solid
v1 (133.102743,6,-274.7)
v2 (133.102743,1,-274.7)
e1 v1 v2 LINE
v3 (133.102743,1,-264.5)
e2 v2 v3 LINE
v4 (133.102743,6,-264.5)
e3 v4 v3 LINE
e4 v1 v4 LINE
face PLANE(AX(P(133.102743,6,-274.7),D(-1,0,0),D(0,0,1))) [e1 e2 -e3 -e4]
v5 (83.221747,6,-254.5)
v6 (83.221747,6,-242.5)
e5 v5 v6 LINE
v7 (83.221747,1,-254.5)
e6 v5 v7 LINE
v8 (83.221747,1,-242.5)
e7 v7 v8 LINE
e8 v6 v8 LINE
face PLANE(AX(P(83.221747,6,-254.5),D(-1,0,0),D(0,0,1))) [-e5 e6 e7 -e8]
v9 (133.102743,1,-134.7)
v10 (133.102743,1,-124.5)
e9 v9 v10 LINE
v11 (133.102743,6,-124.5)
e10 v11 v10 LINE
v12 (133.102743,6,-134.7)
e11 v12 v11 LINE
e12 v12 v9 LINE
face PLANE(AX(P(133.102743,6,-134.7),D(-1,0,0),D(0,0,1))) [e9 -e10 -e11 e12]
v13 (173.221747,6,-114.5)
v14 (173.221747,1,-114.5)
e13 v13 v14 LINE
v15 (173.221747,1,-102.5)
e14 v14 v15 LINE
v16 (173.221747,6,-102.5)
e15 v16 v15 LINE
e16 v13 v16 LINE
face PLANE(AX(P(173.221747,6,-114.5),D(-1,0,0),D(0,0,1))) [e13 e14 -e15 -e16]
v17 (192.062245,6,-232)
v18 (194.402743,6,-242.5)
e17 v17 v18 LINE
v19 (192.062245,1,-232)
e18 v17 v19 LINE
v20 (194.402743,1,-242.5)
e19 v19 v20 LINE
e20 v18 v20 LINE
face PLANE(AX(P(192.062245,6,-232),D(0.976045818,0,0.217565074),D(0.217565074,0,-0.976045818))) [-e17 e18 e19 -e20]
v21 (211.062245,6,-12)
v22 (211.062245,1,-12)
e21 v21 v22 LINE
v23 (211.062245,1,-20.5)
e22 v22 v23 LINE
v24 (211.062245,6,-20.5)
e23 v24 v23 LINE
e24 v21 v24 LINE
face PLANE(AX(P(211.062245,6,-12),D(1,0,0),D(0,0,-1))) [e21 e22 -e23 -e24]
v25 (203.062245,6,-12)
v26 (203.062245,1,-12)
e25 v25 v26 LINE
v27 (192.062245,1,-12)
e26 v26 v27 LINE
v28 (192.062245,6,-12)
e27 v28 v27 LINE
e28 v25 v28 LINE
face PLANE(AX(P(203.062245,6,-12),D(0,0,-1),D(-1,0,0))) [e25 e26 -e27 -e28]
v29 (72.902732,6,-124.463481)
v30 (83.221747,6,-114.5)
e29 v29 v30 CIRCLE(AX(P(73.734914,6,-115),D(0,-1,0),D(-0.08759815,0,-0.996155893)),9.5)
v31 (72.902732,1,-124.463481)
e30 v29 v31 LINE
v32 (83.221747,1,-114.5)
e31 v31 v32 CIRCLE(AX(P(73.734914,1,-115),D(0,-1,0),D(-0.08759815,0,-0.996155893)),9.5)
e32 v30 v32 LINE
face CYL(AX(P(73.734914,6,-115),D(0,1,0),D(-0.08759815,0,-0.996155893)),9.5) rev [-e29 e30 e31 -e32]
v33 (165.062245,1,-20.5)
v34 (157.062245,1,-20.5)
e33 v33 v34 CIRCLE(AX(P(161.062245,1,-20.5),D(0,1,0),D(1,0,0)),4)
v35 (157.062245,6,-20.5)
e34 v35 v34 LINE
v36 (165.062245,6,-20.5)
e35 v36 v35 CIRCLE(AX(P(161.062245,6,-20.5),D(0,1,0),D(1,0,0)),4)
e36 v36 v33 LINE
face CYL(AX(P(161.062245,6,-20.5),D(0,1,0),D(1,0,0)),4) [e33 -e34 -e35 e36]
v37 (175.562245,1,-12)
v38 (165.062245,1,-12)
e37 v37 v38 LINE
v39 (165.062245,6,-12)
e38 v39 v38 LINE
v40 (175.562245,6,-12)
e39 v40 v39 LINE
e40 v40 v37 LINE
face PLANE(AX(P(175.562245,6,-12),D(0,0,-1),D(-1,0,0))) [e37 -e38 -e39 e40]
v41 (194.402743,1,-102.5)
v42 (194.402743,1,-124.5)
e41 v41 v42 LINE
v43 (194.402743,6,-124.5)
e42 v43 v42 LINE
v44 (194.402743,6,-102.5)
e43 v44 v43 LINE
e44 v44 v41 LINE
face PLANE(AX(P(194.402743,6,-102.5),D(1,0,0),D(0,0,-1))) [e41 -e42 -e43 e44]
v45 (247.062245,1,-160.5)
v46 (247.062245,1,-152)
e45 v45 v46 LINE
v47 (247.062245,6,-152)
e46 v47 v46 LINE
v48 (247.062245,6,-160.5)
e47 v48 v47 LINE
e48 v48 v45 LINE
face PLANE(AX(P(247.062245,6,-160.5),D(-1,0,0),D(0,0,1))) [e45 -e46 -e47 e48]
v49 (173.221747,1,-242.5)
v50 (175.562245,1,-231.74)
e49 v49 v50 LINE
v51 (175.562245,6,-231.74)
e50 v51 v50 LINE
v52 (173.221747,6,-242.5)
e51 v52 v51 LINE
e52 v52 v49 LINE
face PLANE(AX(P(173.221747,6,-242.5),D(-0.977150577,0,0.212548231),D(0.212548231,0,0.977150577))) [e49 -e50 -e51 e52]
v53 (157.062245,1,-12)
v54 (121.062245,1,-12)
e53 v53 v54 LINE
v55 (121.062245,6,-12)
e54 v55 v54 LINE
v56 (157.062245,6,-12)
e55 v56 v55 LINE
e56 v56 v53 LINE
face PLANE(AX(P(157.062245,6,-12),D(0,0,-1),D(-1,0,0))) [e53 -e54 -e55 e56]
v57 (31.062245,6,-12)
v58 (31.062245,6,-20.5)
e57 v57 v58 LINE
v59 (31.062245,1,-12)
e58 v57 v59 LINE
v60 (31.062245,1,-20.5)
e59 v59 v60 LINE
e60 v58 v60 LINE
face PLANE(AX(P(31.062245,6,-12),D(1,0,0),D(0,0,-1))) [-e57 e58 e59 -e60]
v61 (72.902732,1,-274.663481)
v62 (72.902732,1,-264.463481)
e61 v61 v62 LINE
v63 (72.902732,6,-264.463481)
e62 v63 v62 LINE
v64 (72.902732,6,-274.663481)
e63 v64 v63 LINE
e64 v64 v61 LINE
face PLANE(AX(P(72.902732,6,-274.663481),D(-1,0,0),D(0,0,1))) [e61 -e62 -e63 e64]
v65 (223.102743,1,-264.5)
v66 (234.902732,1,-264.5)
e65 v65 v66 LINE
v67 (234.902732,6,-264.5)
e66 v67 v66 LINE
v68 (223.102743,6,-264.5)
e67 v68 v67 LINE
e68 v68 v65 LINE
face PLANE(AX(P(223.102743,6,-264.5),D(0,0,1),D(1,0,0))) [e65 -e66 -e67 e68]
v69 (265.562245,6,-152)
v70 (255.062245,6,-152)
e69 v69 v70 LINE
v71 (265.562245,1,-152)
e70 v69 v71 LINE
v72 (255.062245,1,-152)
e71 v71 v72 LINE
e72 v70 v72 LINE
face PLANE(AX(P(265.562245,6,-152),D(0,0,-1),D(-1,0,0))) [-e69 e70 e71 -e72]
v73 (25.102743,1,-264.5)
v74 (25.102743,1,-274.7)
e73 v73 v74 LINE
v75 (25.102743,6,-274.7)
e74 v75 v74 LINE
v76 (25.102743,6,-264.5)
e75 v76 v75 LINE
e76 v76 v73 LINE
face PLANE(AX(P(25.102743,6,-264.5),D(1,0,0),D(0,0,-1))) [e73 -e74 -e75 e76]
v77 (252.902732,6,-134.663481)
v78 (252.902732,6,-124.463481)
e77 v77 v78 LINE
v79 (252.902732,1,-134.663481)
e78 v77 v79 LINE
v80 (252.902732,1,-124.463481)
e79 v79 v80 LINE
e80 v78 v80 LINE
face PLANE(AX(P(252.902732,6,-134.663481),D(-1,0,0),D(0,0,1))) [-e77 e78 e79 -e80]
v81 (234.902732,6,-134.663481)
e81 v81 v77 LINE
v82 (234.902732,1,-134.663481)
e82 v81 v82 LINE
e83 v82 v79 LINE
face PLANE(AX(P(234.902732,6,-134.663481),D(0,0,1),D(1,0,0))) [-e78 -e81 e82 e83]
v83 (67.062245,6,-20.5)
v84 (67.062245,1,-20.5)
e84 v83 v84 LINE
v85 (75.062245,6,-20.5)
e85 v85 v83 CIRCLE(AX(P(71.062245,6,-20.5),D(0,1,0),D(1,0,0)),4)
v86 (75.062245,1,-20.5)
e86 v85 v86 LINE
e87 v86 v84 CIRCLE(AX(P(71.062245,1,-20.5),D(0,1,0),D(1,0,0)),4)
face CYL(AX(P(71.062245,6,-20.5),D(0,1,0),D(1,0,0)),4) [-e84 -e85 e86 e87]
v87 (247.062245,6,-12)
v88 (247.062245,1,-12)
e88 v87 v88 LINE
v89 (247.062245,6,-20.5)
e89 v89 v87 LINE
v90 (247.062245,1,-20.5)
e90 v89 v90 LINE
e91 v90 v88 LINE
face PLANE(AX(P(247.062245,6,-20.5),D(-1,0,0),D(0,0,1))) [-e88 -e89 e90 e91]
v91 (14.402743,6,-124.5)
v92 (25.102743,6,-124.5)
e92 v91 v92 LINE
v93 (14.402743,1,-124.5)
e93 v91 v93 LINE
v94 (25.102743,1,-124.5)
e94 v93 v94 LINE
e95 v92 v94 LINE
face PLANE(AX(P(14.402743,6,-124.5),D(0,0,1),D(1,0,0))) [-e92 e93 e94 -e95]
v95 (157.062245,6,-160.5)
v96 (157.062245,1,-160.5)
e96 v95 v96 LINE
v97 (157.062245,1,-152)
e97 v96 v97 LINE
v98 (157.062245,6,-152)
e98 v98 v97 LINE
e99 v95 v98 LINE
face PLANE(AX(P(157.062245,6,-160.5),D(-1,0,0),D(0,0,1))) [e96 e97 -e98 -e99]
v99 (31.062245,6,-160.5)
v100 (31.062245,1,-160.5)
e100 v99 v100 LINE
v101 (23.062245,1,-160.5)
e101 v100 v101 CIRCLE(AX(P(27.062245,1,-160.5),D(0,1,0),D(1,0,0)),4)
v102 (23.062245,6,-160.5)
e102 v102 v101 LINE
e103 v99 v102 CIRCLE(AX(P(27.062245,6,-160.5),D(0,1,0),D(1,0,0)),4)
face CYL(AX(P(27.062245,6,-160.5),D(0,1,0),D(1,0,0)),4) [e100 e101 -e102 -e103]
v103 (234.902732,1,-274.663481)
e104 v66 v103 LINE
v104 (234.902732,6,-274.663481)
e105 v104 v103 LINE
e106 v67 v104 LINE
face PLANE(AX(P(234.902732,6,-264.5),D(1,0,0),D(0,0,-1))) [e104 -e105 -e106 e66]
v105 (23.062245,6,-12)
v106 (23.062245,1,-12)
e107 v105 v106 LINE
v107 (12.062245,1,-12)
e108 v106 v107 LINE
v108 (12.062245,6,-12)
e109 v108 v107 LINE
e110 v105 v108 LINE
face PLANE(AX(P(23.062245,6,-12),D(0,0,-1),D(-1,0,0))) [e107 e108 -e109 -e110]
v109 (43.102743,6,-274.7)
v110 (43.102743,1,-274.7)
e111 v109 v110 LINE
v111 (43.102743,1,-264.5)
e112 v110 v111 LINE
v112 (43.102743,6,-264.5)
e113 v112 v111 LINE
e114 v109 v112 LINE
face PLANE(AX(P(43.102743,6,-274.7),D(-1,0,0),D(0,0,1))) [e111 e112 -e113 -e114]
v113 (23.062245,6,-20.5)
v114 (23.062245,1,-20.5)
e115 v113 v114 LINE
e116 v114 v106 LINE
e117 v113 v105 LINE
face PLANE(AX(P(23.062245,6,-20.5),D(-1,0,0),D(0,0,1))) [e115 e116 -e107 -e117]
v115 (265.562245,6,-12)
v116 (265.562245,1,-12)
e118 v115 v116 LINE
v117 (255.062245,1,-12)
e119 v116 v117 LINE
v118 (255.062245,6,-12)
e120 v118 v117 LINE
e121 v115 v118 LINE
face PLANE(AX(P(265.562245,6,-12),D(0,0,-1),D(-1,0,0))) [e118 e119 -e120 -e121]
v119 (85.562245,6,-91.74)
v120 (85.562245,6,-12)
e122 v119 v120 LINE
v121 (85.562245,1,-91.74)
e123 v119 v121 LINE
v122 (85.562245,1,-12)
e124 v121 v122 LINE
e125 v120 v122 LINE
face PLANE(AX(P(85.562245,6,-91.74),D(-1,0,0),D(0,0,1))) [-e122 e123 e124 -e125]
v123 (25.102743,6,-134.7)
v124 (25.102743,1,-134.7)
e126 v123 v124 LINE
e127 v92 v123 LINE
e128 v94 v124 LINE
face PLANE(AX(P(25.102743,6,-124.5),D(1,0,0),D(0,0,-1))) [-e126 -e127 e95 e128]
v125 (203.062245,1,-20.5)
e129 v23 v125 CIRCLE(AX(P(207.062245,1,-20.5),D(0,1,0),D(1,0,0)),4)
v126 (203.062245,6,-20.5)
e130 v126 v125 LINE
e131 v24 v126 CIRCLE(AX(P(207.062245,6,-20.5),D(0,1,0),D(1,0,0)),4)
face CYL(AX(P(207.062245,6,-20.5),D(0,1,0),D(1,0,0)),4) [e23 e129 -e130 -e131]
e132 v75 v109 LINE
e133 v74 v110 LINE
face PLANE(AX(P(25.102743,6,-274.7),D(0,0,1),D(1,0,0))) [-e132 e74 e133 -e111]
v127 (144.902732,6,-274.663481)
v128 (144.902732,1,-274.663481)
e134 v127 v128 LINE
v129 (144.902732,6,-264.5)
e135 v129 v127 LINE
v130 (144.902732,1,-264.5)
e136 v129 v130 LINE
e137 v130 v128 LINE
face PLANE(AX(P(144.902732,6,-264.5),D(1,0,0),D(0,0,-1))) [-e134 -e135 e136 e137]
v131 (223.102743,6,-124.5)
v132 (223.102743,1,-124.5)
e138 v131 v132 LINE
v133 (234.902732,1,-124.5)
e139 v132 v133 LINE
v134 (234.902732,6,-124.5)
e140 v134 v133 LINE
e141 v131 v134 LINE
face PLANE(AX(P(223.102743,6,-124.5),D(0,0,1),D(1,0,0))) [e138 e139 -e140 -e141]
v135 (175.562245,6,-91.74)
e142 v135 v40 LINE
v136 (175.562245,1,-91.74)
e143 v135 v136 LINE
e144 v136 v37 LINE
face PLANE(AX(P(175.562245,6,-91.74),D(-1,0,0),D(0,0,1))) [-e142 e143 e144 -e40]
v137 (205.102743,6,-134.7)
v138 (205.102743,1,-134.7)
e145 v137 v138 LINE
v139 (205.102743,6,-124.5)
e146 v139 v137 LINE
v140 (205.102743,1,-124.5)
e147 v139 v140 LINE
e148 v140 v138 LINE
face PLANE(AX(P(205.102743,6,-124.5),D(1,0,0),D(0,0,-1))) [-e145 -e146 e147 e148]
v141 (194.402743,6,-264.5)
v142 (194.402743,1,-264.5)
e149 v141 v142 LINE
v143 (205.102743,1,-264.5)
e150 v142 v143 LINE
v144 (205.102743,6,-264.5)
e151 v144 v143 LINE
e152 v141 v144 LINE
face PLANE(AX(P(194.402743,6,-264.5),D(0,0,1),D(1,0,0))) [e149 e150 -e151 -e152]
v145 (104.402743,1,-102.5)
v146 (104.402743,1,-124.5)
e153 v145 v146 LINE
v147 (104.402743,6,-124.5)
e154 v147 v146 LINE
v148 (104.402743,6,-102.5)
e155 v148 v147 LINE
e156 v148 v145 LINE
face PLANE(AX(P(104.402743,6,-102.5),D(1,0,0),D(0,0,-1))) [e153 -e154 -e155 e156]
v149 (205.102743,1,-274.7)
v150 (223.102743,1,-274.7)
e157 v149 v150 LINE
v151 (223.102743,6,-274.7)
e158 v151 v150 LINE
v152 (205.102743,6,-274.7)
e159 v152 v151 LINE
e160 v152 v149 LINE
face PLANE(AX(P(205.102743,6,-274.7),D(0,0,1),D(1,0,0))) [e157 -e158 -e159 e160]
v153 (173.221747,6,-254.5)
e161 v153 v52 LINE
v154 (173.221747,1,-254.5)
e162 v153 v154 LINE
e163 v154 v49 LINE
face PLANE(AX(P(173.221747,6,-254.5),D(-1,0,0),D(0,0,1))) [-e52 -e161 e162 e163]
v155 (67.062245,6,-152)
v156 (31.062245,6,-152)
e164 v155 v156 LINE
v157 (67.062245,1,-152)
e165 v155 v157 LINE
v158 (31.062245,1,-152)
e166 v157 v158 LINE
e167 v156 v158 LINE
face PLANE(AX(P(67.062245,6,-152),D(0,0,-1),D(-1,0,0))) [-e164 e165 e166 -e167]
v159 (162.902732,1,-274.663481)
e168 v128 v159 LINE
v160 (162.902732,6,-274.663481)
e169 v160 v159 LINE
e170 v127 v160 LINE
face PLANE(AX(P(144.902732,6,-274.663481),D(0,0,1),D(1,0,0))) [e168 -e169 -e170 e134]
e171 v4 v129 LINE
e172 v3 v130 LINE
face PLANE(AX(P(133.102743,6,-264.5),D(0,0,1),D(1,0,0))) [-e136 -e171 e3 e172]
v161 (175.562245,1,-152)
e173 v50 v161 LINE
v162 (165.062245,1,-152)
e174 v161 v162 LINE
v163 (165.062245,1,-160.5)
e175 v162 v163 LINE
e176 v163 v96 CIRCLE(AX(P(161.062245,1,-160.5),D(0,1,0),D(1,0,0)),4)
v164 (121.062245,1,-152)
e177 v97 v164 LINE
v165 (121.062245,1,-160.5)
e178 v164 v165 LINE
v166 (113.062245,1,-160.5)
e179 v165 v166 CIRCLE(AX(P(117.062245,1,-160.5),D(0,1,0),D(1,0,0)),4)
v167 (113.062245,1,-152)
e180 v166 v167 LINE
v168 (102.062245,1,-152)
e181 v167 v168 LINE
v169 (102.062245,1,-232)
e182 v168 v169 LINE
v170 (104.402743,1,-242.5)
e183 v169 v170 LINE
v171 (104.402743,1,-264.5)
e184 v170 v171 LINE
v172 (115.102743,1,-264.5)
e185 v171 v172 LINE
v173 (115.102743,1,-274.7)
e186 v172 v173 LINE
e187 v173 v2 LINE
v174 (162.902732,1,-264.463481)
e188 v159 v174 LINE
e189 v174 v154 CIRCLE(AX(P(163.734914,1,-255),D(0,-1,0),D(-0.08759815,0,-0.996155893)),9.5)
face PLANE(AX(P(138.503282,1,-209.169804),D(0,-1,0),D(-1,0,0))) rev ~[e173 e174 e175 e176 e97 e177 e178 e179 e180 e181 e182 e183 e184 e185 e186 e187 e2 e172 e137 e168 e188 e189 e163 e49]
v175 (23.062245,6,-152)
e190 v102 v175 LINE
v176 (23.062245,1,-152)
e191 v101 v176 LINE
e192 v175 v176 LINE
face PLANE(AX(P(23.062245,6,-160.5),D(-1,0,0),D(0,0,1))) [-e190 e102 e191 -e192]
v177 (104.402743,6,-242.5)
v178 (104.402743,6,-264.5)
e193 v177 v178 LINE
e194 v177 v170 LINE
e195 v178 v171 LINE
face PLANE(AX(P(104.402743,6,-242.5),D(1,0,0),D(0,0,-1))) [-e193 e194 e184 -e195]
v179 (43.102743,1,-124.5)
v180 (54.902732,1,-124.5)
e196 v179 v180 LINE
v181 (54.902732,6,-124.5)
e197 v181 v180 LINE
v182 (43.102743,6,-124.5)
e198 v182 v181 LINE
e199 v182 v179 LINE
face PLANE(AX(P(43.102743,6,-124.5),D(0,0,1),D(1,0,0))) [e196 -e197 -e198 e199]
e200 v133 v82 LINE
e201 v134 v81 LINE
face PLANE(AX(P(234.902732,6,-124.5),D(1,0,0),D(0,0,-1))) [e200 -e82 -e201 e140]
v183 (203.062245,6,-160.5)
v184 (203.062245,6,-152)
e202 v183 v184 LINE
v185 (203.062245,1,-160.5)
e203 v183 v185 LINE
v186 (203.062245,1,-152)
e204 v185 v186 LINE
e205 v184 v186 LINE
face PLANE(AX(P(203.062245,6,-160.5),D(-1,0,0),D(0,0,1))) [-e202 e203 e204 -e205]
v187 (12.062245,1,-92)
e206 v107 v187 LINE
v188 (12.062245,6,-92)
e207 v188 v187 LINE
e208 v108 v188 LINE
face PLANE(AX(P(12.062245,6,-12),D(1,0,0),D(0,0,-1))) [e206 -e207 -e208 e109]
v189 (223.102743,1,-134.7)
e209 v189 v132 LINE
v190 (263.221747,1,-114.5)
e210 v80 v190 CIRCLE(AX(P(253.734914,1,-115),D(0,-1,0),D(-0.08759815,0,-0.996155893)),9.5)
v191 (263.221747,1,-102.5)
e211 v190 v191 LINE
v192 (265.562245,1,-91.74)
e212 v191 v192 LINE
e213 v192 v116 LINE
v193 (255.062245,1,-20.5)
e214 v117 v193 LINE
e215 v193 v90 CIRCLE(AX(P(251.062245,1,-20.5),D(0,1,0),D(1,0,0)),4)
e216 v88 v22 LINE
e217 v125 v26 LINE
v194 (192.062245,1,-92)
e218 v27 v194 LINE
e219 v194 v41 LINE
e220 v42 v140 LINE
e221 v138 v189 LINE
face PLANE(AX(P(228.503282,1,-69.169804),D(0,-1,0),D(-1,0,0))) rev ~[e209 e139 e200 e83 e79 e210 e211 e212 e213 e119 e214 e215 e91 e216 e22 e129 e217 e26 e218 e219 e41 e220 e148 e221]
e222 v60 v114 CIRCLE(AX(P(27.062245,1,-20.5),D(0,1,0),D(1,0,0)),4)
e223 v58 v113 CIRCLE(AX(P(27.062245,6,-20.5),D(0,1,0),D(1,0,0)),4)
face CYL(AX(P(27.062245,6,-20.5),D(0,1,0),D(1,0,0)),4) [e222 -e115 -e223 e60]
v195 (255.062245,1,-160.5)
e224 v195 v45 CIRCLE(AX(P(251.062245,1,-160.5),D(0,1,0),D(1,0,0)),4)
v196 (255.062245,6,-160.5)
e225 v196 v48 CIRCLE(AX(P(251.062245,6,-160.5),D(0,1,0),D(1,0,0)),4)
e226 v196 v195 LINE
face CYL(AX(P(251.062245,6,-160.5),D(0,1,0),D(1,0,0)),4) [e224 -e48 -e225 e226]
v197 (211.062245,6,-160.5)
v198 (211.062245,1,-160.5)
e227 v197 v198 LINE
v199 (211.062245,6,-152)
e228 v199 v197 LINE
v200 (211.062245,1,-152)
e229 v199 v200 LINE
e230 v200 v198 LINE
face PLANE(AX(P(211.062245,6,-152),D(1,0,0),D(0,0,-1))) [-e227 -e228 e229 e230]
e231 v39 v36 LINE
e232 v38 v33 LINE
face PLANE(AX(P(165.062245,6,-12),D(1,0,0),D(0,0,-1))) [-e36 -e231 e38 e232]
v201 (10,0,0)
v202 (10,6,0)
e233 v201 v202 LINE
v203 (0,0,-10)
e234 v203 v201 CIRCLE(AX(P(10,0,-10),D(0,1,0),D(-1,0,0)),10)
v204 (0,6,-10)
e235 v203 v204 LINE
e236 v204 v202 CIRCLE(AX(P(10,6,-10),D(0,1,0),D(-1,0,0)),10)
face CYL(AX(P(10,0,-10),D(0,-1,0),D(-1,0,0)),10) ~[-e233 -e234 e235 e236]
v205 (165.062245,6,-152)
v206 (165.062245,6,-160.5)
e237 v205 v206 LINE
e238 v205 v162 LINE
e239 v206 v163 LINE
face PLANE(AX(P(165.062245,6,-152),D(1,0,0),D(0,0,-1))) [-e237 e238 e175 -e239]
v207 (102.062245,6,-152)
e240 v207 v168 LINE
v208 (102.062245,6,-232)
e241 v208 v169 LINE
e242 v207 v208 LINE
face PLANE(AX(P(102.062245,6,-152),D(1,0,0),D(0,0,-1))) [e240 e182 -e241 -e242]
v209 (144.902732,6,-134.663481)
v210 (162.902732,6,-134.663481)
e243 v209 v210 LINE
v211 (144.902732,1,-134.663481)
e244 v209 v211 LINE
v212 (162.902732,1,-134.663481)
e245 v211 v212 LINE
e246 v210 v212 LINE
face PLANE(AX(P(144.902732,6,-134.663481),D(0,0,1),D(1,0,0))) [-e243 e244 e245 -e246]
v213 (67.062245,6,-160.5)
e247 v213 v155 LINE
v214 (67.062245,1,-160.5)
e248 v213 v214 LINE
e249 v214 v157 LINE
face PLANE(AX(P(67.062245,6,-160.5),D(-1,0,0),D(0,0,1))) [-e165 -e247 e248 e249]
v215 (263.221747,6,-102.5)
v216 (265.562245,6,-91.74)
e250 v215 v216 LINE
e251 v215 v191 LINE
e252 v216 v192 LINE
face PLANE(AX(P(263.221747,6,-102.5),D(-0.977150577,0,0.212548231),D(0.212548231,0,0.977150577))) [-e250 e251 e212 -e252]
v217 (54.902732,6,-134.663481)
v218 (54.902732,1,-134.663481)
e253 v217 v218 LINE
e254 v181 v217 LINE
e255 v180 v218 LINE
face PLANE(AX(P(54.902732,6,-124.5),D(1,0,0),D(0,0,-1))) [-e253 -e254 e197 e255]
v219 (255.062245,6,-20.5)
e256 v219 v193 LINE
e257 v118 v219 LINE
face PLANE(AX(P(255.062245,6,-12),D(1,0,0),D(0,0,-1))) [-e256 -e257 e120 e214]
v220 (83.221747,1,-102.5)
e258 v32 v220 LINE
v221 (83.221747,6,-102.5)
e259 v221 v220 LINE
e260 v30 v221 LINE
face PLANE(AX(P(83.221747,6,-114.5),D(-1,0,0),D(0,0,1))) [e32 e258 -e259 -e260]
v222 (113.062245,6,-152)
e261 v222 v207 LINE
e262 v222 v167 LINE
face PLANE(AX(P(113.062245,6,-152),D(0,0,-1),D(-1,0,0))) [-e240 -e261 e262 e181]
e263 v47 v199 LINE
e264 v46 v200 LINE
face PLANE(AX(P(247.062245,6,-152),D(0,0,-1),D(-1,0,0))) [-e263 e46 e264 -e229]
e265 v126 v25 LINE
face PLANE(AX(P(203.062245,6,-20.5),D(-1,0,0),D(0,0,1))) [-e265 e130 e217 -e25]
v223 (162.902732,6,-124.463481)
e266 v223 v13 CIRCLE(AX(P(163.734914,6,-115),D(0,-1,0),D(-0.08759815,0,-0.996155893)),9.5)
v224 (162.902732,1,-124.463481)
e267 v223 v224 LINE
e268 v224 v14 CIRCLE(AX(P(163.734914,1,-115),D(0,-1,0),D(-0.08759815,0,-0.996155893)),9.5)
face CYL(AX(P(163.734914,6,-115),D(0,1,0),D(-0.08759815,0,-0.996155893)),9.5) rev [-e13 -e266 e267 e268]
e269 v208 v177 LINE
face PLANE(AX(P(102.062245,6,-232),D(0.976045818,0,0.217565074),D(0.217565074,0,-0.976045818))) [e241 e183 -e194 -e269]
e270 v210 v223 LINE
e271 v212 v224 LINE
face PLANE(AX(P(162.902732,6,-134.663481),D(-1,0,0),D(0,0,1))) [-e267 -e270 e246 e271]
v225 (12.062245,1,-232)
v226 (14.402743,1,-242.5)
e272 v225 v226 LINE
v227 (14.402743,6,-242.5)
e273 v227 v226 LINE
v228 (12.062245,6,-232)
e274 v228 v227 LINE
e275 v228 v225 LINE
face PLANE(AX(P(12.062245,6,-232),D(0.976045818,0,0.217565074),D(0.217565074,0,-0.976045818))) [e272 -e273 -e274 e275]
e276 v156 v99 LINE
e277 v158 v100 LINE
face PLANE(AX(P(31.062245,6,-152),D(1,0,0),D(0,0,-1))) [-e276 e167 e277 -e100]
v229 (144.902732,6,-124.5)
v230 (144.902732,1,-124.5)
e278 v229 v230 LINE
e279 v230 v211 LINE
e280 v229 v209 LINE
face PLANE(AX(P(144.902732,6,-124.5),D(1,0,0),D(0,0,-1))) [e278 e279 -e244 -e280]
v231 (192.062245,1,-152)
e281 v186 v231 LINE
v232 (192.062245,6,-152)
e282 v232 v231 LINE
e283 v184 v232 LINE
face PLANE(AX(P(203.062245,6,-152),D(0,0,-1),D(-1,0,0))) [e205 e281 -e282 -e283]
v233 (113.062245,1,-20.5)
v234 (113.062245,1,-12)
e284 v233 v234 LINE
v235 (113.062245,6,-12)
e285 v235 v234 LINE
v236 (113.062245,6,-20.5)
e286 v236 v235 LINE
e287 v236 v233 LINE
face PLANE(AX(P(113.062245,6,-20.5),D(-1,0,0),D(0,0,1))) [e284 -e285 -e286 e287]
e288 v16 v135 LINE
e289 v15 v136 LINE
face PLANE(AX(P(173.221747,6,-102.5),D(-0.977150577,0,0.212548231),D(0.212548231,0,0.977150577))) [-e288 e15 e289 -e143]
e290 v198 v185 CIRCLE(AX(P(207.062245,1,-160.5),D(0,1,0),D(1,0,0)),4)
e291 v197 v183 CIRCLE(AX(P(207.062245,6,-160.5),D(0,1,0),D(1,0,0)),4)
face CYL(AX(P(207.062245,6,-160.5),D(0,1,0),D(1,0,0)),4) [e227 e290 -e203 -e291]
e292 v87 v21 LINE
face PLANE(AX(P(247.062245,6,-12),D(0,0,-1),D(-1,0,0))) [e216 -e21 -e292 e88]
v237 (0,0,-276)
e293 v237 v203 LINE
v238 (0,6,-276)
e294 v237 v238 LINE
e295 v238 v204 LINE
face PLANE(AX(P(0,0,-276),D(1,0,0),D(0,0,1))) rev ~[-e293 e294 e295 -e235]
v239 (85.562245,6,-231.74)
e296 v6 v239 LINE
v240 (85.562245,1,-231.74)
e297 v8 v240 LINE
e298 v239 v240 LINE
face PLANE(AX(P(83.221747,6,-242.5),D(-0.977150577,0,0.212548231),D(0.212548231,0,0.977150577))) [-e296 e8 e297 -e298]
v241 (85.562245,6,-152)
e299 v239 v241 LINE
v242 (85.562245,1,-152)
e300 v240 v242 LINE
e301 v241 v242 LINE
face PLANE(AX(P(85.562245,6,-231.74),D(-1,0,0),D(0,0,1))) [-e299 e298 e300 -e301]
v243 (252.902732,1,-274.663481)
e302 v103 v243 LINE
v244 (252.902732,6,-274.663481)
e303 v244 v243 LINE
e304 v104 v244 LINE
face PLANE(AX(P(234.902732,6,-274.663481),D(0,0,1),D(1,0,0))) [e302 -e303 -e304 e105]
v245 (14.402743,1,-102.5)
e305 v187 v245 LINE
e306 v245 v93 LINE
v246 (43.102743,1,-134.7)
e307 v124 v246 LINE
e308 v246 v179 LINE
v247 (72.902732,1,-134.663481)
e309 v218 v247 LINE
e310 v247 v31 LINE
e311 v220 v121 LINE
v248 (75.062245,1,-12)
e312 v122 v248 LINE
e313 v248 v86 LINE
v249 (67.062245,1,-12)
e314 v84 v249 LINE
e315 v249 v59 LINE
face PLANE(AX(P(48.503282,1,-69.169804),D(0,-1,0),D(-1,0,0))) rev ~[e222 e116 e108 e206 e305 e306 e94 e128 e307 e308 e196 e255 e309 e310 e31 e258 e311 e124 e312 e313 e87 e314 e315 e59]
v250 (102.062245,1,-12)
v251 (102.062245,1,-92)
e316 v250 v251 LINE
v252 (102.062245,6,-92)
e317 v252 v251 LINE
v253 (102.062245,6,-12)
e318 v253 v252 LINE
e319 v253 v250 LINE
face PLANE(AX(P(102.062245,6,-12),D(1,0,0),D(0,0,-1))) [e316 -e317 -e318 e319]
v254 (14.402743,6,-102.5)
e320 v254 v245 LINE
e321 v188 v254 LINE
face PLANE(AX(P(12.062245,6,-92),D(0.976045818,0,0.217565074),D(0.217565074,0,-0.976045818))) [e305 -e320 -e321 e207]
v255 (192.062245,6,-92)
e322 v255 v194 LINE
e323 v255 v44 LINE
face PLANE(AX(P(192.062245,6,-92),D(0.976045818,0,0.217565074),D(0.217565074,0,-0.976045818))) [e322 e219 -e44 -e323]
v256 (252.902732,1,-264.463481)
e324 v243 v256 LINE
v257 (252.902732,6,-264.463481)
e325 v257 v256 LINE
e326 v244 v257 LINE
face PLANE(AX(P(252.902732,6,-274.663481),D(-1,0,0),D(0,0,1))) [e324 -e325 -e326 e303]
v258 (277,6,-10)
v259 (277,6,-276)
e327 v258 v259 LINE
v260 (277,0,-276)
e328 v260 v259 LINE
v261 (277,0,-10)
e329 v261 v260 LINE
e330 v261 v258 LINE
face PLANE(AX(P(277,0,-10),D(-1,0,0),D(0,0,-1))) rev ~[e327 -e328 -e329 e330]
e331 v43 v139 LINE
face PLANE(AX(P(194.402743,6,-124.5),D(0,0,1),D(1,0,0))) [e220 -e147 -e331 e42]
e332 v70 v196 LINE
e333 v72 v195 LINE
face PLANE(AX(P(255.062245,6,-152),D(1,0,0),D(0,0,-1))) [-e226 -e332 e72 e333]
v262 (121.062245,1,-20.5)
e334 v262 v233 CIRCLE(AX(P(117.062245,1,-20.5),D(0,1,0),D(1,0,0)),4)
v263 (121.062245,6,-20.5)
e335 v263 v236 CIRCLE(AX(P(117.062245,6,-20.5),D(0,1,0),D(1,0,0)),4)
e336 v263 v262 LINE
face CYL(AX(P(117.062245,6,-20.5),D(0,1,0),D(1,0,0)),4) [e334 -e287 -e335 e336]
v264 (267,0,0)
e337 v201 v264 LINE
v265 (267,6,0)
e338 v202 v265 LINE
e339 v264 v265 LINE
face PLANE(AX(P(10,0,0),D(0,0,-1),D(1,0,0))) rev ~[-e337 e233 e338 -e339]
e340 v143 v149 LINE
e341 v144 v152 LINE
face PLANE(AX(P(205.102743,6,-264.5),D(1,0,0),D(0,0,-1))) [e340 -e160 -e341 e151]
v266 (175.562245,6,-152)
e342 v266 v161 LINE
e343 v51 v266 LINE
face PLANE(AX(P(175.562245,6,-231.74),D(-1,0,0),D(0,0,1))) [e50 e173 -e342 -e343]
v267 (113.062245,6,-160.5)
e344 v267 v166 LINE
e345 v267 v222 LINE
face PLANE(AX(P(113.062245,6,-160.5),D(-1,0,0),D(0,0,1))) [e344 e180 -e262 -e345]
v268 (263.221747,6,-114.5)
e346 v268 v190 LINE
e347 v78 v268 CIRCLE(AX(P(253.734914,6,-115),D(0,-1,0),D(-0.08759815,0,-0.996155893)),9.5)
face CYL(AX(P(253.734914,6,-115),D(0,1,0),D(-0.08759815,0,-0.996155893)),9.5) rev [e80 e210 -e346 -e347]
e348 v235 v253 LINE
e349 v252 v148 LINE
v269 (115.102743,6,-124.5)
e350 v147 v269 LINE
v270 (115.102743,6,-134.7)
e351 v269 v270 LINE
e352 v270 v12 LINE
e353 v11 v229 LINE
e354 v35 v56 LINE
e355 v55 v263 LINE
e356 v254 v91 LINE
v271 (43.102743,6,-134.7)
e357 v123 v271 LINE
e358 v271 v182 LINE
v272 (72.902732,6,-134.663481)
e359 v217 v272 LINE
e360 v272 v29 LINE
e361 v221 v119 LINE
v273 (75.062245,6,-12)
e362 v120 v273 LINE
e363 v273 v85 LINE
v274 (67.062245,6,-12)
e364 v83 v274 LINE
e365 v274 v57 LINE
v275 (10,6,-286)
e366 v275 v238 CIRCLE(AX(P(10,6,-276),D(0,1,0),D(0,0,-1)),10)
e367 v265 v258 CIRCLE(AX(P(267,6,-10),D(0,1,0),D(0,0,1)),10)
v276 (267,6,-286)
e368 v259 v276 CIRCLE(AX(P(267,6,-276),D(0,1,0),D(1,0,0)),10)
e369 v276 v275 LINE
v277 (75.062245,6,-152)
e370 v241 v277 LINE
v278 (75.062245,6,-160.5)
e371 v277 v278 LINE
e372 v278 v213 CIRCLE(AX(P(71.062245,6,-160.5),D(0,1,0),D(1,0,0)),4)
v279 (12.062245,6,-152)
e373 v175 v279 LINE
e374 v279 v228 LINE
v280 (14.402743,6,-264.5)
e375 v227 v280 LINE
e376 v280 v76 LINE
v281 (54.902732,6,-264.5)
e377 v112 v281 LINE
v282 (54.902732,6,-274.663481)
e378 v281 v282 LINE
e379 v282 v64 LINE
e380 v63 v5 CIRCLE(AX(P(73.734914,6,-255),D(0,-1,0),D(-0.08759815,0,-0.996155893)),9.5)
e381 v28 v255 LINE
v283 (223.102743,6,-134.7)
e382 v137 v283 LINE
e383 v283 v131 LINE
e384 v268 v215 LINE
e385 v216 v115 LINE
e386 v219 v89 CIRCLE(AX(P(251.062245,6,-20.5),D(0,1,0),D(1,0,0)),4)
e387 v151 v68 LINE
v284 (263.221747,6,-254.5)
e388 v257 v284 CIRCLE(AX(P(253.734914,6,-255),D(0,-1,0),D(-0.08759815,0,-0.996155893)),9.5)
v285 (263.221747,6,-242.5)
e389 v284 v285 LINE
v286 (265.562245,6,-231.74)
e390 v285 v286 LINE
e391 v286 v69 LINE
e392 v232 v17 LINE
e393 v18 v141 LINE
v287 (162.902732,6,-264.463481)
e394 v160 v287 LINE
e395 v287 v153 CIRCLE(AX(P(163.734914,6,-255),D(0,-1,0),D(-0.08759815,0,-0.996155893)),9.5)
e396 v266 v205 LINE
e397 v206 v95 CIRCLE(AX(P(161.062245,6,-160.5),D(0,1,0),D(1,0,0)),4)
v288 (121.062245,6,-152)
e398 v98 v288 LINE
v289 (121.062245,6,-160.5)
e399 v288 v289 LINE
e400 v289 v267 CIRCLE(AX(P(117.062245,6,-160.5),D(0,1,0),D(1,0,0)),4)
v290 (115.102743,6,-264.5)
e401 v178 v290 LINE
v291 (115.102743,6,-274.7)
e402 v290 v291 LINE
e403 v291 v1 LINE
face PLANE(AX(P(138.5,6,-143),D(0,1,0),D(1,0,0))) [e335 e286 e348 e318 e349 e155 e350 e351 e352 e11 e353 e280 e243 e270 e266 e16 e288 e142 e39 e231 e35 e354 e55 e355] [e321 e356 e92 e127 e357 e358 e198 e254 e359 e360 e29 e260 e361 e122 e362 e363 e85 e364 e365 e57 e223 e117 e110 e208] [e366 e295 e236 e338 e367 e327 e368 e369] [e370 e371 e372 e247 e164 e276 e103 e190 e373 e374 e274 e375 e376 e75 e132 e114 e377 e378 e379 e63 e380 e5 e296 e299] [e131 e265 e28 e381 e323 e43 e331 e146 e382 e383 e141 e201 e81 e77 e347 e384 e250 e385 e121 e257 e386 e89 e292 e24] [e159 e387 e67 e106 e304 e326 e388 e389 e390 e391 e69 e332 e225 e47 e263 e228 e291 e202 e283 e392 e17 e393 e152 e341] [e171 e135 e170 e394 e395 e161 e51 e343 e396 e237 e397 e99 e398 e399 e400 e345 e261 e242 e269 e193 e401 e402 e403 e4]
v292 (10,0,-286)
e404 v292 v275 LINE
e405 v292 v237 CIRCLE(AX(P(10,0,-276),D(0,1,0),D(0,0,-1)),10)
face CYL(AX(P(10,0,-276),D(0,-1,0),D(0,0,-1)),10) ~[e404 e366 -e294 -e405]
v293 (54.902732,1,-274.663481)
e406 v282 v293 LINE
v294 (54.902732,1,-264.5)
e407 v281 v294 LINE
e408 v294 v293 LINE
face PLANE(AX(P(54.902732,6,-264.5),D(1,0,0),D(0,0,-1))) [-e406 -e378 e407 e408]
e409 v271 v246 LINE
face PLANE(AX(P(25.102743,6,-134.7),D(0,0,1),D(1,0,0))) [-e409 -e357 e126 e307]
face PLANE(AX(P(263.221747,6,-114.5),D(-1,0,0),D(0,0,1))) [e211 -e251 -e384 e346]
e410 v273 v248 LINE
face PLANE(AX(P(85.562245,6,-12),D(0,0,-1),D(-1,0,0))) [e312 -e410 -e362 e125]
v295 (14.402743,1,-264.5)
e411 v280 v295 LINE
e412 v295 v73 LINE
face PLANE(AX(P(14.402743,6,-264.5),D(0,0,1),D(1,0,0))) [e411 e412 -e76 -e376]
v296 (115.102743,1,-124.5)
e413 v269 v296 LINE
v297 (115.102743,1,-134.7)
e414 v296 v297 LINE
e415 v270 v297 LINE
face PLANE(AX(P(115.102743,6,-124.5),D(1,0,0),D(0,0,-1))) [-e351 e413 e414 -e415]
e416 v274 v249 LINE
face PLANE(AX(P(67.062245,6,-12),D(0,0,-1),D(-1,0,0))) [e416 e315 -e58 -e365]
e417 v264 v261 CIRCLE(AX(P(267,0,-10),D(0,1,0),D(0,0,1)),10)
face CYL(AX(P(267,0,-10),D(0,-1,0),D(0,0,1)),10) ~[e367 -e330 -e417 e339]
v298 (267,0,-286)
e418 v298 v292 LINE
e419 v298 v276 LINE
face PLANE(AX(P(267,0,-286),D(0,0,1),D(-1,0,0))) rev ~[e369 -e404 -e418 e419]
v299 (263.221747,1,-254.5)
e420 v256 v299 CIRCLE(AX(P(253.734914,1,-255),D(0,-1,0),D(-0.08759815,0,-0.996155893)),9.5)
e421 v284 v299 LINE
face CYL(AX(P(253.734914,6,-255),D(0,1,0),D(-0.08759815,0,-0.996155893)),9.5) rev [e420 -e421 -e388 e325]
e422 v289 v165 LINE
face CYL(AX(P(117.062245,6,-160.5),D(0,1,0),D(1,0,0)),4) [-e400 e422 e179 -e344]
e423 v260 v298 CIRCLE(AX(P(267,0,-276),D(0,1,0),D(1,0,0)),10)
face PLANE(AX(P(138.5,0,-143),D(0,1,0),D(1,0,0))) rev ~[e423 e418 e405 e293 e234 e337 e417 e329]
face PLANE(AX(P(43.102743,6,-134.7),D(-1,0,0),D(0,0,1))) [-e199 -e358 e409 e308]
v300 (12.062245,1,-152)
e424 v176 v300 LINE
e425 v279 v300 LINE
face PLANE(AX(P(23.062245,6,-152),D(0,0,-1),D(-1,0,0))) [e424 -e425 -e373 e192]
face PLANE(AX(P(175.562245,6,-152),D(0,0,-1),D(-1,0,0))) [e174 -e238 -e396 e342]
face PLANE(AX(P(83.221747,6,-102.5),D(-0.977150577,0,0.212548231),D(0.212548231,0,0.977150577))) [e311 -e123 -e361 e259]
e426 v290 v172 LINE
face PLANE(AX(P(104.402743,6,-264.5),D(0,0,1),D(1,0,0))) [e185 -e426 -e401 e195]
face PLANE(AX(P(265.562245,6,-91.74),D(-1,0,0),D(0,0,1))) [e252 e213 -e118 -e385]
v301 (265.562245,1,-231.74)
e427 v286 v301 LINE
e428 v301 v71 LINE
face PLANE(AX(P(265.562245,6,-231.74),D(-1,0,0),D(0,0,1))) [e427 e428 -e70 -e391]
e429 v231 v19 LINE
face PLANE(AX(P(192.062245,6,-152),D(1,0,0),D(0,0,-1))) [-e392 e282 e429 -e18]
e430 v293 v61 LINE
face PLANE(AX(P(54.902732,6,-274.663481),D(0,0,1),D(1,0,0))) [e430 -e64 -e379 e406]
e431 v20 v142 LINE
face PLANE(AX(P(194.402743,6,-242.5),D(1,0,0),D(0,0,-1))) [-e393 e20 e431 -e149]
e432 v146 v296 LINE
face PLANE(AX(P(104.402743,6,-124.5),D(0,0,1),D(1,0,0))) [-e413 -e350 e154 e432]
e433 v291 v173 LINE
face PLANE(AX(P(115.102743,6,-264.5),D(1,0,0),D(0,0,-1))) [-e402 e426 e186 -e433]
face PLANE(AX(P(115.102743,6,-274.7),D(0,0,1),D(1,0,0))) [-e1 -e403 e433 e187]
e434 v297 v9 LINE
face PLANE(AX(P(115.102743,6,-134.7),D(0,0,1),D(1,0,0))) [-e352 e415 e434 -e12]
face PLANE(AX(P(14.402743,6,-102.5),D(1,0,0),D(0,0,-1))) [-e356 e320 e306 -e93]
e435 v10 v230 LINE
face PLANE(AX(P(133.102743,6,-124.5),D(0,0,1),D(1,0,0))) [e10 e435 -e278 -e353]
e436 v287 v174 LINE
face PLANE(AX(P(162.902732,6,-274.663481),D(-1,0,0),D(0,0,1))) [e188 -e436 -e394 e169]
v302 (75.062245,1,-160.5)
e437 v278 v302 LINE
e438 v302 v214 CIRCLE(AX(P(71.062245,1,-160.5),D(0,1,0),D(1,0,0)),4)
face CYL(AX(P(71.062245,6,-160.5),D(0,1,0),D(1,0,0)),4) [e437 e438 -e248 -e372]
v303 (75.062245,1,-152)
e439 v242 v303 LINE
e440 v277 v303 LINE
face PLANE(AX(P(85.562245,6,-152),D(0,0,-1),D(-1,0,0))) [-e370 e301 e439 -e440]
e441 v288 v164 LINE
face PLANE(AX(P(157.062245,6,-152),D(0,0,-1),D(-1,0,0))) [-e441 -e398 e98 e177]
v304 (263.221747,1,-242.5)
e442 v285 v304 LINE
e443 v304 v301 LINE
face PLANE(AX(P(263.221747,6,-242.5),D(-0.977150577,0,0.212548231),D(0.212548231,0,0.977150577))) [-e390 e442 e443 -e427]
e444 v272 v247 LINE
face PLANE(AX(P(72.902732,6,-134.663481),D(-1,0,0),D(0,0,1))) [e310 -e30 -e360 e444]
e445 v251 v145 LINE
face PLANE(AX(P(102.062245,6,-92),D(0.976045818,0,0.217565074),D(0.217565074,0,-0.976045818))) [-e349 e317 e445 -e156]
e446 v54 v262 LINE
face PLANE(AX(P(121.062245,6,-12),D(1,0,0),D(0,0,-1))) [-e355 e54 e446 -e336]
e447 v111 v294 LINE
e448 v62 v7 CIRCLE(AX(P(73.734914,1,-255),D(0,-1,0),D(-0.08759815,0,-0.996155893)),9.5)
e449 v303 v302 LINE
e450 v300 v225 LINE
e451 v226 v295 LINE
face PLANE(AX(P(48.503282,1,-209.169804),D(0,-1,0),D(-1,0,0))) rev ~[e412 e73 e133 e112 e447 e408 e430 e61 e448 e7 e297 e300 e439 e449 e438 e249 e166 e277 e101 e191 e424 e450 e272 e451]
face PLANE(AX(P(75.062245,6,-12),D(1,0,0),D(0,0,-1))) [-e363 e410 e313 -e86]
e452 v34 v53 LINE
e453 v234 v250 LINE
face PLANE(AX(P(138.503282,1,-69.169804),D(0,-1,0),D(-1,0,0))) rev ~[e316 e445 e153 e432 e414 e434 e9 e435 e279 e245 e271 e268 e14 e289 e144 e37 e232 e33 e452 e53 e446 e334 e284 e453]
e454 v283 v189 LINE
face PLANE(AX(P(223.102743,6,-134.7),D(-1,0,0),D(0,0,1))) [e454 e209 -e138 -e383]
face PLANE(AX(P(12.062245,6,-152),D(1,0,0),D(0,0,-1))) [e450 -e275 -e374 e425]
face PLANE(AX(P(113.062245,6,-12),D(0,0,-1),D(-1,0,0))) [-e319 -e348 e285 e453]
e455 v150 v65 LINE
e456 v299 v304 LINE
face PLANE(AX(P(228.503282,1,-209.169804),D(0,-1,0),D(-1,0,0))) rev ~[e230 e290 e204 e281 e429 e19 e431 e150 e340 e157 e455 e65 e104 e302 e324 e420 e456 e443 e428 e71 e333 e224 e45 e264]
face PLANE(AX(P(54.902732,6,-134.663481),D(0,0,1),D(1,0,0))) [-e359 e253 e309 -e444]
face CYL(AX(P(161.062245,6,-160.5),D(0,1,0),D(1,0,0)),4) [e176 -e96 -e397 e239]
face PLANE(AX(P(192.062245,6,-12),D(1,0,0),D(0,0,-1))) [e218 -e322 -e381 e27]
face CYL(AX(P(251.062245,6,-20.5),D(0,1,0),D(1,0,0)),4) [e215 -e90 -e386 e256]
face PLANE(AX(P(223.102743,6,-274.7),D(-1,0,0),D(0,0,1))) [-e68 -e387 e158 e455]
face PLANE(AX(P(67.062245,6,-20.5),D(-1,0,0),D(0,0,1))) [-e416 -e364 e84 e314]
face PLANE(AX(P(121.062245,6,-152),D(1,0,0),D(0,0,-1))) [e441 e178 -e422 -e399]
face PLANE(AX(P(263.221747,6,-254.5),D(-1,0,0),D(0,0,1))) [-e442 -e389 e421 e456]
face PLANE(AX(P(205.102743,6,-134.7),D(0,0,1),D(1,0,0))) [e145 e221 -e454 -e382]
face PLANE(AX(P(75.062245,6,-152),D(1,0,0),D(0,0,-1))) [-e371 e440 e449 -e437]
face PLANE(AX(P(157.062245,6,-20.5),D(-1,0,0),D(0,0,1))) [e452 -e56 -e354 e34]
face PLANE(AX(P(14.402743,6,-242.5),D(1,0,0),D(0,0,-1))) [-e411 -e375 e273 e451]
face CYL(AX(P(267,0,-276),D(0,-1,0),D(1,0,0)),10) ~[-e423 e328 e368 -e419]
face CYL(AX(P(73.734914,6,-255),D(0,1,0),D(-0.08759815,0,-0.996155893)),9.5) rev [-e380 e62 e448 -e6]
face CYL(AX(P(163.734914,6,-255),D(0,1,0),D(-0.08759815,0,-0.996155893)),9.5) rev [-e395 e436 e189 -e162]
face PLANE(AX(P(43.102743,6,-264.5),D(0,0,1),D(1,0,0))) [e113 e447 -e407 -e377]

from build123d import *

# Parameters (mm, degrees)
BOSS_EXTRUDE1_DEPTH = 6
CUT_EXTRUDE1_DEPTH  = 5


with BuildPart() as part:
    # Sketch1 → Boss-Extrude1 (new body)
    with BuildSketch(Plane(origin=(0, 0, 0), x_dir=(1, 0, 0), z_dir=(0, 1, 0))):
        with BuildLine():
            Line((10, 0), (267, 0))
            ThreePointArc((267, 0), (274.071067812, 2.928932188), (277, 10))
            Line((277, 10), (277, 276))
            ThreePointArc((277, 276), (274.071067812, 283.071067812), (267, 286))
            Line((267, 286), (10, 286))
            ThreePointArc((10, 286), (2.928932188, 283.071067812), (0, 276))
            Line((0, 276), (0, 10))
            ThreePointArc((0, 10), (2.928932188, 2.928932188), (10, 0))
        make_face()
    extrude(amount=BOSS_EXTRUDE1_DEPTH)

    # Sketch2 → Cut-Extrude1 (cut)
    with BuildSketch(Plane(origin=(0, 6, 0), x_dir=(1, 0, 0), z_dir=(0, 1, 0))):
        with BuildLine():
            Line((12.062245302, 92), (14.402743297, 102.5))
            Line((14.402743297, 102.5), (14.402743297, 124.5))
            Line((14.402743297, 124.5), (25.102743297, 124.5))
            Line((25.102743297, 124.5), (25.102743297, 134.7))
            Line((25.102743297, 134.7), (43.102743297, 134.7))
            Line((43.102743297, 134.7), (43.102743297, 124.5))
            Line((43.102743297, 124.5), (54.902731898, 124.5))
            Line((54.902731898, 124.5), (54.902731898, 134.663480988))
            Line((54.902731898, 134.663480988), (72.902731898, 134.663480988))
            Line((72.902731898, 134.663480988), (72.902731898, 124.463480988))
            ThreePointArc((72.902731898, 124.463480988), (80.333662874, 121.834216678), (83.221747307, 114.5))
            Line((83.221747307, 114.5), (83.221747307, 102.5))
            Line((83.221747307, 102.5), (85.562245302, 91.74))
            Line((85.562245302, 91.74), (85.562245302, 12))
            Line((85.562245302, 12), (75.062245302, 12))
            Line((75.062245302, 12), (75.062245302, 20.5))
            ThreePointArc((75.062245302, 20.5), (71.062245302, 24.5), (67.062245302, 20.5))
            Line((67.062245302, 20.5), (67.062245302, 12))
            Line((67.062245302, 12), (31.062245302, 12))
            Line((31.062245302, 12), (31.062245302, 20.5))
            ThreePointArc((31.062245302, 20.5), (27.062245302, 24.5), (23.062245302, 20.5))
            Line((23.062245302, 20.5), (23.062245302, 12))
            Line((23.062245302, 12), (12.062245302, 12))
            Line((12.062245302, 12), (12.062245302, 92))
        make_face()
        with BuildLine():
            Line((102.062245302, 92), (104.402743297, 102.5))
            Line((104.402743297, 102.5), (104.402743297, 124.5))
            Line((104.402743297, 124.5), (115.102743297, 124.5))
            Line((115.102743297, 124.5), (115.102743297, 134.7))
            Line((115.102743297, 134.7), (133.102743297, 134.7))
            Line((133.102743297, 134.7), (133.102743297, 124.5))
            Line((133.102743297, 124.5), (144.902731898, 124.5))
            Line((144.902731898, 124.5), (144.902731898, 134.663480988))
            Line((144.902731898, 134.663480988), (162.902731898, 134.663480988))
            Line((162.902731898, 134.663480988), (162.902731898, 124.463480988))
            ThreePointArc((162.902731898, 124.463480988), (170.333662874, 121.834216678), (173.221747307, 114.5))
            Line((173.221747307, 114.5), (173.221747307, 102.5))
            Line((173.221747307, 102.5), (175.562245302, 91.74))
            Line((175.562245302, 91.74), (175.562245302, 12))
            Line((175.562245302, 12), (165.062245302, 12))
            Line((165.062245302, 12), (165.062245302, 20.5))
            ThreePointArc((165.062245302, 20.5), (161.062245302, 24.5), (157.062245302, 20.5))
            Line((157.062245302, 20.5), (157.062245302, 12))
            Line((157.062245302, 12), (121.062245302, 12))
            Line((121.062245302, 12), (121.062245302, 20.5))
            ThreePointArc((121.062245302, 20.5), (117.062245302, 24.5), (113.062245302, 20.5))
            Line((113.062245302, 20.5), (113.062245302, 12))
            Line((113.062245302, 12), (102.062245302, 12))
            Line((102.062245302, 12), (102.062245302, 92))
        make_face()
        with BuildLine():
            Line((192.062245302, 92), (194.402743297, 102.5))
            Line((194.402743297, 102.5), (194.402743297, 124.5))
            Line((194.402743297, 124.5), (205.102743297, 124.5))
            Line((205.102743297, 124.5), (205.102743297, 134.7))
            Line((205.102743297, 134.7), (223.102743297, 134.7))
            Line((223.102743297, 134.7), (223.102743297, 124.5))
            Line((223.102743297, 124.5), (234.902731898, 124.5))
            Line((234.902731898, 124.5), (234.902731898, 134.663480988))
            Line((234.902731898, 134.663480988), (252.902731898, 134.663480988))
            Line((252.902731898, 134.663480988), (252.902731898, 124.463480988))
            ThreePointArc((252.902731898, 124.463480988), (260.333662874, 121.834216678), (263.221747307, 114.5))
            Line((263.221747307, 114.5), (263.221747307, 102.5))
            Line((263.221747307, 102.5), (265.562245302, 91.74))
            Line((265.562245302, 91.74), (265.562245302, 12))
            Line((265.562245302, 12), (255.062245302, 12))
            Line((255.062245302, 12), (255.062245302, 20.5))
            ThreePointArc((255.062245302, 20.5), (251.062245302, 24.5), (247.062245302, 20.5))
            Line((247.062245302, 20.5), (247.062245302, 12))
            Line((247.062245302, 12), (211.062245302, 12))
            Line((211.062245302, 12), (211.062245302, 20.5))
            ThreePointArc((211.062245302, 20.5), (207.062245302, 24.5), (203.062245302, 20.5))
            Line((203.062245302, 20.5), (203.062245302, 12))
            Line((203.062245302, 12), (192.062245302, 12))
            Line((192.062245302, 12), (192.062245302, 92))
        make_face()
        with BuildLine():
            Line((102.062245302, 232), (104.402743297, 242.5))
            Line((104.402743297, 242.5), (104.402743297, 264.5))
            Line((104.402743297, 264.5), (115.102743297, 264.5))
            Line((115.102743297, 264.5), (115.102743297, 274.7))
            Line((115.102743297, 274.7), (133.102743297, 274.7))
            Line((133.102743297, 274.7), (133.102743297, 264.5))
            Line((133.102743297, 264.5), (144.902731898, 264.5))
            Line((144.902731898, 264.5), (144.902731898, 274.663480988))
            Line((144.902731898, 274.663480988), (162.902731898, 274.663480988))
            Line((162.902731898, 274.663480988), (162.902731898, 264.463480988))
            ThreePointArc((162.902731898, 264.463480988), (170.333662874, 261.834216678), (173.221747307, 254.5))
            Line((173.221747307, 254.5), (173.221747307, 242.5))
            Line((173.221747307, 242.5), (175.562245302, 231.74))
            Line((175.562245302, 231.74), (175.562245302, 152))
            Line((175.562245302, 152), (165.062245302, 152))
            Line((165.062245302, 152), (165.062245302, 160.5))
            ThreePointArc((165.062245302, 160.5), (161.062245302, 164.5), (157.062245302, 160.5))
            Line((157.062245302, 160.5), (157.062245302, 152))
            Line((157.062245302, 152), (121.062245302, 152))
            Line((121.062245302, 152), (121.062245302, 160.5))
            ThreePointArc((121.062245302, 160.5), (117.062245302, 164.5), (113.062245302, 160.5))
            Line((113.062245302, 160.5), (113.062245302, 152))
            Line((113.062245302, 152), (102.062245302, 152))
            Line((102.062245302, 152), (102.062245302, 232))
        make_face()
        with BuildLine():
            Line((192.062245302, 232), (194.402743297, 242.5))
            Line((194.402743297, 242.5), (194.402743297, 264.5))
            Line((194.402743297, 264.5), (205.102743297, 264.5))
            Line((205.102743297, 264.5), (205.102743297, 274.7))
            Line((205.102743297, 274.7), (223.102743297, 274.7))
            Line((223.102743297, 274.7), (223.102743297, 264.5))
            Line((223.102743297, 264.5), (234.902731898, 264.5))
            Line((234.902731898, 264.5), (234.902731898, 274.663480988))
            Line((234.902731898, 274.663480988), (252.902731898, 274.663480988))
            Line((252.902731898, 274.663480988), (252.902731898, 264.463480988))
            ThreePointArc((252.902731898, 264.463480988), (260.333662874, 261.834216678), (263.221747307, 254.5))
            Line((263.221747307, 254.5), (263.221747307, 242.5))
            Line((263.221747307, 242.5), (265.562245302, 231.74))
            Line((265.562245302, 231.74), (265.562245302, 152))
            Line((265.562245302, 152), (255.062245302, 152))
            Line((255.062245302, 152), (255.062245302, 160.5))
            ThreePointArc((255.062245302, 160.5), (251.062245302, 164.5), (247.062245302, 160.5))
            Line((247.062245302, 160.5), (247.062245302, 152))
            Line((247.062245302, 152), (211.062245302, 152))
            Line((211.062245302, 152), (211.062245302, 160.5))
            ThreePointArc((211.062245302, 160.5), (207.062245302, 164.5), (203.062245302, 160.5))
            Line((203.062245302, 160.5), (203.062245302, 152))
            Line((203.062245302, 152), (192.062245302, 152))
            Line((192.062245302, 152), (192.062245302, 232))
        make_face()
        with BuildLine():
            Line((12.062245302, 232), (14.402743297, 242.5))
            Line((14.402743297, 242.5), (14.402743297, 264.5))
            Line((14.402743297, 264.5), (25.102743297, 264.5))
            Line((25.102743297, 264.5), (25.102743297, 274.7))
            Line((25.102743297, 274.7), (43.102743297, 274.7))
            Line((43.102743297, 274.7), (43.102743297, 264.5))
            Line((43.102743297, 264.5), (54.902731898, 264.5))
            Line((54.902731898, 264.5), (54.902731898, 274.663480988))
            Line((54.902731898, 274.663480988), (72.902731898, 274.663480988))
            Line((72.902731898, 274.663480988), (72.902731898, 264.463480988))
            ThreePointArc((72.902731898, 264.463480988), (80.333662874, 261.834216678), (83.221747307, 254.5))
            Line((83.221747307, 254.5), (83.221747307, 242.5))
            Line((83.221747307, 242.5), (85.562245302, 231.74))
            Line((85.562245302, 231.74), (85.562245302, 152))
            Line((85.562245302, 152), (75.062245302, 152))
            Line((75.062245302, 152), (75.062245302, 160.5))
            ThreePointArc((75.062245302, 160.5), (71.062245302, 164.5), (67.062245302, 160.5))
            Line((67.062245302, 160.5), (67.062245302, 152))
            Line((67.062245302, 152), (31.062245302, 152))
            Line((31.062245302, 152), (31.062245302, 160.5))
            ThreePointArc((31.062245302, 160.5), (27.062245302, 164.5), (23.062245302, 160.5))
            Line((23.062245302, 160.5), (23.062245302, 152))
            Line((23.062245302, 152), (12.062245302, 152))
            Line((12.062245302, 152), (12.062245302, 232))
        make_face()
    extrude(amount=-CUT_EXTRUDE1_DEPTH, mode=Mode.SUBTRACT)


solid = part.part
